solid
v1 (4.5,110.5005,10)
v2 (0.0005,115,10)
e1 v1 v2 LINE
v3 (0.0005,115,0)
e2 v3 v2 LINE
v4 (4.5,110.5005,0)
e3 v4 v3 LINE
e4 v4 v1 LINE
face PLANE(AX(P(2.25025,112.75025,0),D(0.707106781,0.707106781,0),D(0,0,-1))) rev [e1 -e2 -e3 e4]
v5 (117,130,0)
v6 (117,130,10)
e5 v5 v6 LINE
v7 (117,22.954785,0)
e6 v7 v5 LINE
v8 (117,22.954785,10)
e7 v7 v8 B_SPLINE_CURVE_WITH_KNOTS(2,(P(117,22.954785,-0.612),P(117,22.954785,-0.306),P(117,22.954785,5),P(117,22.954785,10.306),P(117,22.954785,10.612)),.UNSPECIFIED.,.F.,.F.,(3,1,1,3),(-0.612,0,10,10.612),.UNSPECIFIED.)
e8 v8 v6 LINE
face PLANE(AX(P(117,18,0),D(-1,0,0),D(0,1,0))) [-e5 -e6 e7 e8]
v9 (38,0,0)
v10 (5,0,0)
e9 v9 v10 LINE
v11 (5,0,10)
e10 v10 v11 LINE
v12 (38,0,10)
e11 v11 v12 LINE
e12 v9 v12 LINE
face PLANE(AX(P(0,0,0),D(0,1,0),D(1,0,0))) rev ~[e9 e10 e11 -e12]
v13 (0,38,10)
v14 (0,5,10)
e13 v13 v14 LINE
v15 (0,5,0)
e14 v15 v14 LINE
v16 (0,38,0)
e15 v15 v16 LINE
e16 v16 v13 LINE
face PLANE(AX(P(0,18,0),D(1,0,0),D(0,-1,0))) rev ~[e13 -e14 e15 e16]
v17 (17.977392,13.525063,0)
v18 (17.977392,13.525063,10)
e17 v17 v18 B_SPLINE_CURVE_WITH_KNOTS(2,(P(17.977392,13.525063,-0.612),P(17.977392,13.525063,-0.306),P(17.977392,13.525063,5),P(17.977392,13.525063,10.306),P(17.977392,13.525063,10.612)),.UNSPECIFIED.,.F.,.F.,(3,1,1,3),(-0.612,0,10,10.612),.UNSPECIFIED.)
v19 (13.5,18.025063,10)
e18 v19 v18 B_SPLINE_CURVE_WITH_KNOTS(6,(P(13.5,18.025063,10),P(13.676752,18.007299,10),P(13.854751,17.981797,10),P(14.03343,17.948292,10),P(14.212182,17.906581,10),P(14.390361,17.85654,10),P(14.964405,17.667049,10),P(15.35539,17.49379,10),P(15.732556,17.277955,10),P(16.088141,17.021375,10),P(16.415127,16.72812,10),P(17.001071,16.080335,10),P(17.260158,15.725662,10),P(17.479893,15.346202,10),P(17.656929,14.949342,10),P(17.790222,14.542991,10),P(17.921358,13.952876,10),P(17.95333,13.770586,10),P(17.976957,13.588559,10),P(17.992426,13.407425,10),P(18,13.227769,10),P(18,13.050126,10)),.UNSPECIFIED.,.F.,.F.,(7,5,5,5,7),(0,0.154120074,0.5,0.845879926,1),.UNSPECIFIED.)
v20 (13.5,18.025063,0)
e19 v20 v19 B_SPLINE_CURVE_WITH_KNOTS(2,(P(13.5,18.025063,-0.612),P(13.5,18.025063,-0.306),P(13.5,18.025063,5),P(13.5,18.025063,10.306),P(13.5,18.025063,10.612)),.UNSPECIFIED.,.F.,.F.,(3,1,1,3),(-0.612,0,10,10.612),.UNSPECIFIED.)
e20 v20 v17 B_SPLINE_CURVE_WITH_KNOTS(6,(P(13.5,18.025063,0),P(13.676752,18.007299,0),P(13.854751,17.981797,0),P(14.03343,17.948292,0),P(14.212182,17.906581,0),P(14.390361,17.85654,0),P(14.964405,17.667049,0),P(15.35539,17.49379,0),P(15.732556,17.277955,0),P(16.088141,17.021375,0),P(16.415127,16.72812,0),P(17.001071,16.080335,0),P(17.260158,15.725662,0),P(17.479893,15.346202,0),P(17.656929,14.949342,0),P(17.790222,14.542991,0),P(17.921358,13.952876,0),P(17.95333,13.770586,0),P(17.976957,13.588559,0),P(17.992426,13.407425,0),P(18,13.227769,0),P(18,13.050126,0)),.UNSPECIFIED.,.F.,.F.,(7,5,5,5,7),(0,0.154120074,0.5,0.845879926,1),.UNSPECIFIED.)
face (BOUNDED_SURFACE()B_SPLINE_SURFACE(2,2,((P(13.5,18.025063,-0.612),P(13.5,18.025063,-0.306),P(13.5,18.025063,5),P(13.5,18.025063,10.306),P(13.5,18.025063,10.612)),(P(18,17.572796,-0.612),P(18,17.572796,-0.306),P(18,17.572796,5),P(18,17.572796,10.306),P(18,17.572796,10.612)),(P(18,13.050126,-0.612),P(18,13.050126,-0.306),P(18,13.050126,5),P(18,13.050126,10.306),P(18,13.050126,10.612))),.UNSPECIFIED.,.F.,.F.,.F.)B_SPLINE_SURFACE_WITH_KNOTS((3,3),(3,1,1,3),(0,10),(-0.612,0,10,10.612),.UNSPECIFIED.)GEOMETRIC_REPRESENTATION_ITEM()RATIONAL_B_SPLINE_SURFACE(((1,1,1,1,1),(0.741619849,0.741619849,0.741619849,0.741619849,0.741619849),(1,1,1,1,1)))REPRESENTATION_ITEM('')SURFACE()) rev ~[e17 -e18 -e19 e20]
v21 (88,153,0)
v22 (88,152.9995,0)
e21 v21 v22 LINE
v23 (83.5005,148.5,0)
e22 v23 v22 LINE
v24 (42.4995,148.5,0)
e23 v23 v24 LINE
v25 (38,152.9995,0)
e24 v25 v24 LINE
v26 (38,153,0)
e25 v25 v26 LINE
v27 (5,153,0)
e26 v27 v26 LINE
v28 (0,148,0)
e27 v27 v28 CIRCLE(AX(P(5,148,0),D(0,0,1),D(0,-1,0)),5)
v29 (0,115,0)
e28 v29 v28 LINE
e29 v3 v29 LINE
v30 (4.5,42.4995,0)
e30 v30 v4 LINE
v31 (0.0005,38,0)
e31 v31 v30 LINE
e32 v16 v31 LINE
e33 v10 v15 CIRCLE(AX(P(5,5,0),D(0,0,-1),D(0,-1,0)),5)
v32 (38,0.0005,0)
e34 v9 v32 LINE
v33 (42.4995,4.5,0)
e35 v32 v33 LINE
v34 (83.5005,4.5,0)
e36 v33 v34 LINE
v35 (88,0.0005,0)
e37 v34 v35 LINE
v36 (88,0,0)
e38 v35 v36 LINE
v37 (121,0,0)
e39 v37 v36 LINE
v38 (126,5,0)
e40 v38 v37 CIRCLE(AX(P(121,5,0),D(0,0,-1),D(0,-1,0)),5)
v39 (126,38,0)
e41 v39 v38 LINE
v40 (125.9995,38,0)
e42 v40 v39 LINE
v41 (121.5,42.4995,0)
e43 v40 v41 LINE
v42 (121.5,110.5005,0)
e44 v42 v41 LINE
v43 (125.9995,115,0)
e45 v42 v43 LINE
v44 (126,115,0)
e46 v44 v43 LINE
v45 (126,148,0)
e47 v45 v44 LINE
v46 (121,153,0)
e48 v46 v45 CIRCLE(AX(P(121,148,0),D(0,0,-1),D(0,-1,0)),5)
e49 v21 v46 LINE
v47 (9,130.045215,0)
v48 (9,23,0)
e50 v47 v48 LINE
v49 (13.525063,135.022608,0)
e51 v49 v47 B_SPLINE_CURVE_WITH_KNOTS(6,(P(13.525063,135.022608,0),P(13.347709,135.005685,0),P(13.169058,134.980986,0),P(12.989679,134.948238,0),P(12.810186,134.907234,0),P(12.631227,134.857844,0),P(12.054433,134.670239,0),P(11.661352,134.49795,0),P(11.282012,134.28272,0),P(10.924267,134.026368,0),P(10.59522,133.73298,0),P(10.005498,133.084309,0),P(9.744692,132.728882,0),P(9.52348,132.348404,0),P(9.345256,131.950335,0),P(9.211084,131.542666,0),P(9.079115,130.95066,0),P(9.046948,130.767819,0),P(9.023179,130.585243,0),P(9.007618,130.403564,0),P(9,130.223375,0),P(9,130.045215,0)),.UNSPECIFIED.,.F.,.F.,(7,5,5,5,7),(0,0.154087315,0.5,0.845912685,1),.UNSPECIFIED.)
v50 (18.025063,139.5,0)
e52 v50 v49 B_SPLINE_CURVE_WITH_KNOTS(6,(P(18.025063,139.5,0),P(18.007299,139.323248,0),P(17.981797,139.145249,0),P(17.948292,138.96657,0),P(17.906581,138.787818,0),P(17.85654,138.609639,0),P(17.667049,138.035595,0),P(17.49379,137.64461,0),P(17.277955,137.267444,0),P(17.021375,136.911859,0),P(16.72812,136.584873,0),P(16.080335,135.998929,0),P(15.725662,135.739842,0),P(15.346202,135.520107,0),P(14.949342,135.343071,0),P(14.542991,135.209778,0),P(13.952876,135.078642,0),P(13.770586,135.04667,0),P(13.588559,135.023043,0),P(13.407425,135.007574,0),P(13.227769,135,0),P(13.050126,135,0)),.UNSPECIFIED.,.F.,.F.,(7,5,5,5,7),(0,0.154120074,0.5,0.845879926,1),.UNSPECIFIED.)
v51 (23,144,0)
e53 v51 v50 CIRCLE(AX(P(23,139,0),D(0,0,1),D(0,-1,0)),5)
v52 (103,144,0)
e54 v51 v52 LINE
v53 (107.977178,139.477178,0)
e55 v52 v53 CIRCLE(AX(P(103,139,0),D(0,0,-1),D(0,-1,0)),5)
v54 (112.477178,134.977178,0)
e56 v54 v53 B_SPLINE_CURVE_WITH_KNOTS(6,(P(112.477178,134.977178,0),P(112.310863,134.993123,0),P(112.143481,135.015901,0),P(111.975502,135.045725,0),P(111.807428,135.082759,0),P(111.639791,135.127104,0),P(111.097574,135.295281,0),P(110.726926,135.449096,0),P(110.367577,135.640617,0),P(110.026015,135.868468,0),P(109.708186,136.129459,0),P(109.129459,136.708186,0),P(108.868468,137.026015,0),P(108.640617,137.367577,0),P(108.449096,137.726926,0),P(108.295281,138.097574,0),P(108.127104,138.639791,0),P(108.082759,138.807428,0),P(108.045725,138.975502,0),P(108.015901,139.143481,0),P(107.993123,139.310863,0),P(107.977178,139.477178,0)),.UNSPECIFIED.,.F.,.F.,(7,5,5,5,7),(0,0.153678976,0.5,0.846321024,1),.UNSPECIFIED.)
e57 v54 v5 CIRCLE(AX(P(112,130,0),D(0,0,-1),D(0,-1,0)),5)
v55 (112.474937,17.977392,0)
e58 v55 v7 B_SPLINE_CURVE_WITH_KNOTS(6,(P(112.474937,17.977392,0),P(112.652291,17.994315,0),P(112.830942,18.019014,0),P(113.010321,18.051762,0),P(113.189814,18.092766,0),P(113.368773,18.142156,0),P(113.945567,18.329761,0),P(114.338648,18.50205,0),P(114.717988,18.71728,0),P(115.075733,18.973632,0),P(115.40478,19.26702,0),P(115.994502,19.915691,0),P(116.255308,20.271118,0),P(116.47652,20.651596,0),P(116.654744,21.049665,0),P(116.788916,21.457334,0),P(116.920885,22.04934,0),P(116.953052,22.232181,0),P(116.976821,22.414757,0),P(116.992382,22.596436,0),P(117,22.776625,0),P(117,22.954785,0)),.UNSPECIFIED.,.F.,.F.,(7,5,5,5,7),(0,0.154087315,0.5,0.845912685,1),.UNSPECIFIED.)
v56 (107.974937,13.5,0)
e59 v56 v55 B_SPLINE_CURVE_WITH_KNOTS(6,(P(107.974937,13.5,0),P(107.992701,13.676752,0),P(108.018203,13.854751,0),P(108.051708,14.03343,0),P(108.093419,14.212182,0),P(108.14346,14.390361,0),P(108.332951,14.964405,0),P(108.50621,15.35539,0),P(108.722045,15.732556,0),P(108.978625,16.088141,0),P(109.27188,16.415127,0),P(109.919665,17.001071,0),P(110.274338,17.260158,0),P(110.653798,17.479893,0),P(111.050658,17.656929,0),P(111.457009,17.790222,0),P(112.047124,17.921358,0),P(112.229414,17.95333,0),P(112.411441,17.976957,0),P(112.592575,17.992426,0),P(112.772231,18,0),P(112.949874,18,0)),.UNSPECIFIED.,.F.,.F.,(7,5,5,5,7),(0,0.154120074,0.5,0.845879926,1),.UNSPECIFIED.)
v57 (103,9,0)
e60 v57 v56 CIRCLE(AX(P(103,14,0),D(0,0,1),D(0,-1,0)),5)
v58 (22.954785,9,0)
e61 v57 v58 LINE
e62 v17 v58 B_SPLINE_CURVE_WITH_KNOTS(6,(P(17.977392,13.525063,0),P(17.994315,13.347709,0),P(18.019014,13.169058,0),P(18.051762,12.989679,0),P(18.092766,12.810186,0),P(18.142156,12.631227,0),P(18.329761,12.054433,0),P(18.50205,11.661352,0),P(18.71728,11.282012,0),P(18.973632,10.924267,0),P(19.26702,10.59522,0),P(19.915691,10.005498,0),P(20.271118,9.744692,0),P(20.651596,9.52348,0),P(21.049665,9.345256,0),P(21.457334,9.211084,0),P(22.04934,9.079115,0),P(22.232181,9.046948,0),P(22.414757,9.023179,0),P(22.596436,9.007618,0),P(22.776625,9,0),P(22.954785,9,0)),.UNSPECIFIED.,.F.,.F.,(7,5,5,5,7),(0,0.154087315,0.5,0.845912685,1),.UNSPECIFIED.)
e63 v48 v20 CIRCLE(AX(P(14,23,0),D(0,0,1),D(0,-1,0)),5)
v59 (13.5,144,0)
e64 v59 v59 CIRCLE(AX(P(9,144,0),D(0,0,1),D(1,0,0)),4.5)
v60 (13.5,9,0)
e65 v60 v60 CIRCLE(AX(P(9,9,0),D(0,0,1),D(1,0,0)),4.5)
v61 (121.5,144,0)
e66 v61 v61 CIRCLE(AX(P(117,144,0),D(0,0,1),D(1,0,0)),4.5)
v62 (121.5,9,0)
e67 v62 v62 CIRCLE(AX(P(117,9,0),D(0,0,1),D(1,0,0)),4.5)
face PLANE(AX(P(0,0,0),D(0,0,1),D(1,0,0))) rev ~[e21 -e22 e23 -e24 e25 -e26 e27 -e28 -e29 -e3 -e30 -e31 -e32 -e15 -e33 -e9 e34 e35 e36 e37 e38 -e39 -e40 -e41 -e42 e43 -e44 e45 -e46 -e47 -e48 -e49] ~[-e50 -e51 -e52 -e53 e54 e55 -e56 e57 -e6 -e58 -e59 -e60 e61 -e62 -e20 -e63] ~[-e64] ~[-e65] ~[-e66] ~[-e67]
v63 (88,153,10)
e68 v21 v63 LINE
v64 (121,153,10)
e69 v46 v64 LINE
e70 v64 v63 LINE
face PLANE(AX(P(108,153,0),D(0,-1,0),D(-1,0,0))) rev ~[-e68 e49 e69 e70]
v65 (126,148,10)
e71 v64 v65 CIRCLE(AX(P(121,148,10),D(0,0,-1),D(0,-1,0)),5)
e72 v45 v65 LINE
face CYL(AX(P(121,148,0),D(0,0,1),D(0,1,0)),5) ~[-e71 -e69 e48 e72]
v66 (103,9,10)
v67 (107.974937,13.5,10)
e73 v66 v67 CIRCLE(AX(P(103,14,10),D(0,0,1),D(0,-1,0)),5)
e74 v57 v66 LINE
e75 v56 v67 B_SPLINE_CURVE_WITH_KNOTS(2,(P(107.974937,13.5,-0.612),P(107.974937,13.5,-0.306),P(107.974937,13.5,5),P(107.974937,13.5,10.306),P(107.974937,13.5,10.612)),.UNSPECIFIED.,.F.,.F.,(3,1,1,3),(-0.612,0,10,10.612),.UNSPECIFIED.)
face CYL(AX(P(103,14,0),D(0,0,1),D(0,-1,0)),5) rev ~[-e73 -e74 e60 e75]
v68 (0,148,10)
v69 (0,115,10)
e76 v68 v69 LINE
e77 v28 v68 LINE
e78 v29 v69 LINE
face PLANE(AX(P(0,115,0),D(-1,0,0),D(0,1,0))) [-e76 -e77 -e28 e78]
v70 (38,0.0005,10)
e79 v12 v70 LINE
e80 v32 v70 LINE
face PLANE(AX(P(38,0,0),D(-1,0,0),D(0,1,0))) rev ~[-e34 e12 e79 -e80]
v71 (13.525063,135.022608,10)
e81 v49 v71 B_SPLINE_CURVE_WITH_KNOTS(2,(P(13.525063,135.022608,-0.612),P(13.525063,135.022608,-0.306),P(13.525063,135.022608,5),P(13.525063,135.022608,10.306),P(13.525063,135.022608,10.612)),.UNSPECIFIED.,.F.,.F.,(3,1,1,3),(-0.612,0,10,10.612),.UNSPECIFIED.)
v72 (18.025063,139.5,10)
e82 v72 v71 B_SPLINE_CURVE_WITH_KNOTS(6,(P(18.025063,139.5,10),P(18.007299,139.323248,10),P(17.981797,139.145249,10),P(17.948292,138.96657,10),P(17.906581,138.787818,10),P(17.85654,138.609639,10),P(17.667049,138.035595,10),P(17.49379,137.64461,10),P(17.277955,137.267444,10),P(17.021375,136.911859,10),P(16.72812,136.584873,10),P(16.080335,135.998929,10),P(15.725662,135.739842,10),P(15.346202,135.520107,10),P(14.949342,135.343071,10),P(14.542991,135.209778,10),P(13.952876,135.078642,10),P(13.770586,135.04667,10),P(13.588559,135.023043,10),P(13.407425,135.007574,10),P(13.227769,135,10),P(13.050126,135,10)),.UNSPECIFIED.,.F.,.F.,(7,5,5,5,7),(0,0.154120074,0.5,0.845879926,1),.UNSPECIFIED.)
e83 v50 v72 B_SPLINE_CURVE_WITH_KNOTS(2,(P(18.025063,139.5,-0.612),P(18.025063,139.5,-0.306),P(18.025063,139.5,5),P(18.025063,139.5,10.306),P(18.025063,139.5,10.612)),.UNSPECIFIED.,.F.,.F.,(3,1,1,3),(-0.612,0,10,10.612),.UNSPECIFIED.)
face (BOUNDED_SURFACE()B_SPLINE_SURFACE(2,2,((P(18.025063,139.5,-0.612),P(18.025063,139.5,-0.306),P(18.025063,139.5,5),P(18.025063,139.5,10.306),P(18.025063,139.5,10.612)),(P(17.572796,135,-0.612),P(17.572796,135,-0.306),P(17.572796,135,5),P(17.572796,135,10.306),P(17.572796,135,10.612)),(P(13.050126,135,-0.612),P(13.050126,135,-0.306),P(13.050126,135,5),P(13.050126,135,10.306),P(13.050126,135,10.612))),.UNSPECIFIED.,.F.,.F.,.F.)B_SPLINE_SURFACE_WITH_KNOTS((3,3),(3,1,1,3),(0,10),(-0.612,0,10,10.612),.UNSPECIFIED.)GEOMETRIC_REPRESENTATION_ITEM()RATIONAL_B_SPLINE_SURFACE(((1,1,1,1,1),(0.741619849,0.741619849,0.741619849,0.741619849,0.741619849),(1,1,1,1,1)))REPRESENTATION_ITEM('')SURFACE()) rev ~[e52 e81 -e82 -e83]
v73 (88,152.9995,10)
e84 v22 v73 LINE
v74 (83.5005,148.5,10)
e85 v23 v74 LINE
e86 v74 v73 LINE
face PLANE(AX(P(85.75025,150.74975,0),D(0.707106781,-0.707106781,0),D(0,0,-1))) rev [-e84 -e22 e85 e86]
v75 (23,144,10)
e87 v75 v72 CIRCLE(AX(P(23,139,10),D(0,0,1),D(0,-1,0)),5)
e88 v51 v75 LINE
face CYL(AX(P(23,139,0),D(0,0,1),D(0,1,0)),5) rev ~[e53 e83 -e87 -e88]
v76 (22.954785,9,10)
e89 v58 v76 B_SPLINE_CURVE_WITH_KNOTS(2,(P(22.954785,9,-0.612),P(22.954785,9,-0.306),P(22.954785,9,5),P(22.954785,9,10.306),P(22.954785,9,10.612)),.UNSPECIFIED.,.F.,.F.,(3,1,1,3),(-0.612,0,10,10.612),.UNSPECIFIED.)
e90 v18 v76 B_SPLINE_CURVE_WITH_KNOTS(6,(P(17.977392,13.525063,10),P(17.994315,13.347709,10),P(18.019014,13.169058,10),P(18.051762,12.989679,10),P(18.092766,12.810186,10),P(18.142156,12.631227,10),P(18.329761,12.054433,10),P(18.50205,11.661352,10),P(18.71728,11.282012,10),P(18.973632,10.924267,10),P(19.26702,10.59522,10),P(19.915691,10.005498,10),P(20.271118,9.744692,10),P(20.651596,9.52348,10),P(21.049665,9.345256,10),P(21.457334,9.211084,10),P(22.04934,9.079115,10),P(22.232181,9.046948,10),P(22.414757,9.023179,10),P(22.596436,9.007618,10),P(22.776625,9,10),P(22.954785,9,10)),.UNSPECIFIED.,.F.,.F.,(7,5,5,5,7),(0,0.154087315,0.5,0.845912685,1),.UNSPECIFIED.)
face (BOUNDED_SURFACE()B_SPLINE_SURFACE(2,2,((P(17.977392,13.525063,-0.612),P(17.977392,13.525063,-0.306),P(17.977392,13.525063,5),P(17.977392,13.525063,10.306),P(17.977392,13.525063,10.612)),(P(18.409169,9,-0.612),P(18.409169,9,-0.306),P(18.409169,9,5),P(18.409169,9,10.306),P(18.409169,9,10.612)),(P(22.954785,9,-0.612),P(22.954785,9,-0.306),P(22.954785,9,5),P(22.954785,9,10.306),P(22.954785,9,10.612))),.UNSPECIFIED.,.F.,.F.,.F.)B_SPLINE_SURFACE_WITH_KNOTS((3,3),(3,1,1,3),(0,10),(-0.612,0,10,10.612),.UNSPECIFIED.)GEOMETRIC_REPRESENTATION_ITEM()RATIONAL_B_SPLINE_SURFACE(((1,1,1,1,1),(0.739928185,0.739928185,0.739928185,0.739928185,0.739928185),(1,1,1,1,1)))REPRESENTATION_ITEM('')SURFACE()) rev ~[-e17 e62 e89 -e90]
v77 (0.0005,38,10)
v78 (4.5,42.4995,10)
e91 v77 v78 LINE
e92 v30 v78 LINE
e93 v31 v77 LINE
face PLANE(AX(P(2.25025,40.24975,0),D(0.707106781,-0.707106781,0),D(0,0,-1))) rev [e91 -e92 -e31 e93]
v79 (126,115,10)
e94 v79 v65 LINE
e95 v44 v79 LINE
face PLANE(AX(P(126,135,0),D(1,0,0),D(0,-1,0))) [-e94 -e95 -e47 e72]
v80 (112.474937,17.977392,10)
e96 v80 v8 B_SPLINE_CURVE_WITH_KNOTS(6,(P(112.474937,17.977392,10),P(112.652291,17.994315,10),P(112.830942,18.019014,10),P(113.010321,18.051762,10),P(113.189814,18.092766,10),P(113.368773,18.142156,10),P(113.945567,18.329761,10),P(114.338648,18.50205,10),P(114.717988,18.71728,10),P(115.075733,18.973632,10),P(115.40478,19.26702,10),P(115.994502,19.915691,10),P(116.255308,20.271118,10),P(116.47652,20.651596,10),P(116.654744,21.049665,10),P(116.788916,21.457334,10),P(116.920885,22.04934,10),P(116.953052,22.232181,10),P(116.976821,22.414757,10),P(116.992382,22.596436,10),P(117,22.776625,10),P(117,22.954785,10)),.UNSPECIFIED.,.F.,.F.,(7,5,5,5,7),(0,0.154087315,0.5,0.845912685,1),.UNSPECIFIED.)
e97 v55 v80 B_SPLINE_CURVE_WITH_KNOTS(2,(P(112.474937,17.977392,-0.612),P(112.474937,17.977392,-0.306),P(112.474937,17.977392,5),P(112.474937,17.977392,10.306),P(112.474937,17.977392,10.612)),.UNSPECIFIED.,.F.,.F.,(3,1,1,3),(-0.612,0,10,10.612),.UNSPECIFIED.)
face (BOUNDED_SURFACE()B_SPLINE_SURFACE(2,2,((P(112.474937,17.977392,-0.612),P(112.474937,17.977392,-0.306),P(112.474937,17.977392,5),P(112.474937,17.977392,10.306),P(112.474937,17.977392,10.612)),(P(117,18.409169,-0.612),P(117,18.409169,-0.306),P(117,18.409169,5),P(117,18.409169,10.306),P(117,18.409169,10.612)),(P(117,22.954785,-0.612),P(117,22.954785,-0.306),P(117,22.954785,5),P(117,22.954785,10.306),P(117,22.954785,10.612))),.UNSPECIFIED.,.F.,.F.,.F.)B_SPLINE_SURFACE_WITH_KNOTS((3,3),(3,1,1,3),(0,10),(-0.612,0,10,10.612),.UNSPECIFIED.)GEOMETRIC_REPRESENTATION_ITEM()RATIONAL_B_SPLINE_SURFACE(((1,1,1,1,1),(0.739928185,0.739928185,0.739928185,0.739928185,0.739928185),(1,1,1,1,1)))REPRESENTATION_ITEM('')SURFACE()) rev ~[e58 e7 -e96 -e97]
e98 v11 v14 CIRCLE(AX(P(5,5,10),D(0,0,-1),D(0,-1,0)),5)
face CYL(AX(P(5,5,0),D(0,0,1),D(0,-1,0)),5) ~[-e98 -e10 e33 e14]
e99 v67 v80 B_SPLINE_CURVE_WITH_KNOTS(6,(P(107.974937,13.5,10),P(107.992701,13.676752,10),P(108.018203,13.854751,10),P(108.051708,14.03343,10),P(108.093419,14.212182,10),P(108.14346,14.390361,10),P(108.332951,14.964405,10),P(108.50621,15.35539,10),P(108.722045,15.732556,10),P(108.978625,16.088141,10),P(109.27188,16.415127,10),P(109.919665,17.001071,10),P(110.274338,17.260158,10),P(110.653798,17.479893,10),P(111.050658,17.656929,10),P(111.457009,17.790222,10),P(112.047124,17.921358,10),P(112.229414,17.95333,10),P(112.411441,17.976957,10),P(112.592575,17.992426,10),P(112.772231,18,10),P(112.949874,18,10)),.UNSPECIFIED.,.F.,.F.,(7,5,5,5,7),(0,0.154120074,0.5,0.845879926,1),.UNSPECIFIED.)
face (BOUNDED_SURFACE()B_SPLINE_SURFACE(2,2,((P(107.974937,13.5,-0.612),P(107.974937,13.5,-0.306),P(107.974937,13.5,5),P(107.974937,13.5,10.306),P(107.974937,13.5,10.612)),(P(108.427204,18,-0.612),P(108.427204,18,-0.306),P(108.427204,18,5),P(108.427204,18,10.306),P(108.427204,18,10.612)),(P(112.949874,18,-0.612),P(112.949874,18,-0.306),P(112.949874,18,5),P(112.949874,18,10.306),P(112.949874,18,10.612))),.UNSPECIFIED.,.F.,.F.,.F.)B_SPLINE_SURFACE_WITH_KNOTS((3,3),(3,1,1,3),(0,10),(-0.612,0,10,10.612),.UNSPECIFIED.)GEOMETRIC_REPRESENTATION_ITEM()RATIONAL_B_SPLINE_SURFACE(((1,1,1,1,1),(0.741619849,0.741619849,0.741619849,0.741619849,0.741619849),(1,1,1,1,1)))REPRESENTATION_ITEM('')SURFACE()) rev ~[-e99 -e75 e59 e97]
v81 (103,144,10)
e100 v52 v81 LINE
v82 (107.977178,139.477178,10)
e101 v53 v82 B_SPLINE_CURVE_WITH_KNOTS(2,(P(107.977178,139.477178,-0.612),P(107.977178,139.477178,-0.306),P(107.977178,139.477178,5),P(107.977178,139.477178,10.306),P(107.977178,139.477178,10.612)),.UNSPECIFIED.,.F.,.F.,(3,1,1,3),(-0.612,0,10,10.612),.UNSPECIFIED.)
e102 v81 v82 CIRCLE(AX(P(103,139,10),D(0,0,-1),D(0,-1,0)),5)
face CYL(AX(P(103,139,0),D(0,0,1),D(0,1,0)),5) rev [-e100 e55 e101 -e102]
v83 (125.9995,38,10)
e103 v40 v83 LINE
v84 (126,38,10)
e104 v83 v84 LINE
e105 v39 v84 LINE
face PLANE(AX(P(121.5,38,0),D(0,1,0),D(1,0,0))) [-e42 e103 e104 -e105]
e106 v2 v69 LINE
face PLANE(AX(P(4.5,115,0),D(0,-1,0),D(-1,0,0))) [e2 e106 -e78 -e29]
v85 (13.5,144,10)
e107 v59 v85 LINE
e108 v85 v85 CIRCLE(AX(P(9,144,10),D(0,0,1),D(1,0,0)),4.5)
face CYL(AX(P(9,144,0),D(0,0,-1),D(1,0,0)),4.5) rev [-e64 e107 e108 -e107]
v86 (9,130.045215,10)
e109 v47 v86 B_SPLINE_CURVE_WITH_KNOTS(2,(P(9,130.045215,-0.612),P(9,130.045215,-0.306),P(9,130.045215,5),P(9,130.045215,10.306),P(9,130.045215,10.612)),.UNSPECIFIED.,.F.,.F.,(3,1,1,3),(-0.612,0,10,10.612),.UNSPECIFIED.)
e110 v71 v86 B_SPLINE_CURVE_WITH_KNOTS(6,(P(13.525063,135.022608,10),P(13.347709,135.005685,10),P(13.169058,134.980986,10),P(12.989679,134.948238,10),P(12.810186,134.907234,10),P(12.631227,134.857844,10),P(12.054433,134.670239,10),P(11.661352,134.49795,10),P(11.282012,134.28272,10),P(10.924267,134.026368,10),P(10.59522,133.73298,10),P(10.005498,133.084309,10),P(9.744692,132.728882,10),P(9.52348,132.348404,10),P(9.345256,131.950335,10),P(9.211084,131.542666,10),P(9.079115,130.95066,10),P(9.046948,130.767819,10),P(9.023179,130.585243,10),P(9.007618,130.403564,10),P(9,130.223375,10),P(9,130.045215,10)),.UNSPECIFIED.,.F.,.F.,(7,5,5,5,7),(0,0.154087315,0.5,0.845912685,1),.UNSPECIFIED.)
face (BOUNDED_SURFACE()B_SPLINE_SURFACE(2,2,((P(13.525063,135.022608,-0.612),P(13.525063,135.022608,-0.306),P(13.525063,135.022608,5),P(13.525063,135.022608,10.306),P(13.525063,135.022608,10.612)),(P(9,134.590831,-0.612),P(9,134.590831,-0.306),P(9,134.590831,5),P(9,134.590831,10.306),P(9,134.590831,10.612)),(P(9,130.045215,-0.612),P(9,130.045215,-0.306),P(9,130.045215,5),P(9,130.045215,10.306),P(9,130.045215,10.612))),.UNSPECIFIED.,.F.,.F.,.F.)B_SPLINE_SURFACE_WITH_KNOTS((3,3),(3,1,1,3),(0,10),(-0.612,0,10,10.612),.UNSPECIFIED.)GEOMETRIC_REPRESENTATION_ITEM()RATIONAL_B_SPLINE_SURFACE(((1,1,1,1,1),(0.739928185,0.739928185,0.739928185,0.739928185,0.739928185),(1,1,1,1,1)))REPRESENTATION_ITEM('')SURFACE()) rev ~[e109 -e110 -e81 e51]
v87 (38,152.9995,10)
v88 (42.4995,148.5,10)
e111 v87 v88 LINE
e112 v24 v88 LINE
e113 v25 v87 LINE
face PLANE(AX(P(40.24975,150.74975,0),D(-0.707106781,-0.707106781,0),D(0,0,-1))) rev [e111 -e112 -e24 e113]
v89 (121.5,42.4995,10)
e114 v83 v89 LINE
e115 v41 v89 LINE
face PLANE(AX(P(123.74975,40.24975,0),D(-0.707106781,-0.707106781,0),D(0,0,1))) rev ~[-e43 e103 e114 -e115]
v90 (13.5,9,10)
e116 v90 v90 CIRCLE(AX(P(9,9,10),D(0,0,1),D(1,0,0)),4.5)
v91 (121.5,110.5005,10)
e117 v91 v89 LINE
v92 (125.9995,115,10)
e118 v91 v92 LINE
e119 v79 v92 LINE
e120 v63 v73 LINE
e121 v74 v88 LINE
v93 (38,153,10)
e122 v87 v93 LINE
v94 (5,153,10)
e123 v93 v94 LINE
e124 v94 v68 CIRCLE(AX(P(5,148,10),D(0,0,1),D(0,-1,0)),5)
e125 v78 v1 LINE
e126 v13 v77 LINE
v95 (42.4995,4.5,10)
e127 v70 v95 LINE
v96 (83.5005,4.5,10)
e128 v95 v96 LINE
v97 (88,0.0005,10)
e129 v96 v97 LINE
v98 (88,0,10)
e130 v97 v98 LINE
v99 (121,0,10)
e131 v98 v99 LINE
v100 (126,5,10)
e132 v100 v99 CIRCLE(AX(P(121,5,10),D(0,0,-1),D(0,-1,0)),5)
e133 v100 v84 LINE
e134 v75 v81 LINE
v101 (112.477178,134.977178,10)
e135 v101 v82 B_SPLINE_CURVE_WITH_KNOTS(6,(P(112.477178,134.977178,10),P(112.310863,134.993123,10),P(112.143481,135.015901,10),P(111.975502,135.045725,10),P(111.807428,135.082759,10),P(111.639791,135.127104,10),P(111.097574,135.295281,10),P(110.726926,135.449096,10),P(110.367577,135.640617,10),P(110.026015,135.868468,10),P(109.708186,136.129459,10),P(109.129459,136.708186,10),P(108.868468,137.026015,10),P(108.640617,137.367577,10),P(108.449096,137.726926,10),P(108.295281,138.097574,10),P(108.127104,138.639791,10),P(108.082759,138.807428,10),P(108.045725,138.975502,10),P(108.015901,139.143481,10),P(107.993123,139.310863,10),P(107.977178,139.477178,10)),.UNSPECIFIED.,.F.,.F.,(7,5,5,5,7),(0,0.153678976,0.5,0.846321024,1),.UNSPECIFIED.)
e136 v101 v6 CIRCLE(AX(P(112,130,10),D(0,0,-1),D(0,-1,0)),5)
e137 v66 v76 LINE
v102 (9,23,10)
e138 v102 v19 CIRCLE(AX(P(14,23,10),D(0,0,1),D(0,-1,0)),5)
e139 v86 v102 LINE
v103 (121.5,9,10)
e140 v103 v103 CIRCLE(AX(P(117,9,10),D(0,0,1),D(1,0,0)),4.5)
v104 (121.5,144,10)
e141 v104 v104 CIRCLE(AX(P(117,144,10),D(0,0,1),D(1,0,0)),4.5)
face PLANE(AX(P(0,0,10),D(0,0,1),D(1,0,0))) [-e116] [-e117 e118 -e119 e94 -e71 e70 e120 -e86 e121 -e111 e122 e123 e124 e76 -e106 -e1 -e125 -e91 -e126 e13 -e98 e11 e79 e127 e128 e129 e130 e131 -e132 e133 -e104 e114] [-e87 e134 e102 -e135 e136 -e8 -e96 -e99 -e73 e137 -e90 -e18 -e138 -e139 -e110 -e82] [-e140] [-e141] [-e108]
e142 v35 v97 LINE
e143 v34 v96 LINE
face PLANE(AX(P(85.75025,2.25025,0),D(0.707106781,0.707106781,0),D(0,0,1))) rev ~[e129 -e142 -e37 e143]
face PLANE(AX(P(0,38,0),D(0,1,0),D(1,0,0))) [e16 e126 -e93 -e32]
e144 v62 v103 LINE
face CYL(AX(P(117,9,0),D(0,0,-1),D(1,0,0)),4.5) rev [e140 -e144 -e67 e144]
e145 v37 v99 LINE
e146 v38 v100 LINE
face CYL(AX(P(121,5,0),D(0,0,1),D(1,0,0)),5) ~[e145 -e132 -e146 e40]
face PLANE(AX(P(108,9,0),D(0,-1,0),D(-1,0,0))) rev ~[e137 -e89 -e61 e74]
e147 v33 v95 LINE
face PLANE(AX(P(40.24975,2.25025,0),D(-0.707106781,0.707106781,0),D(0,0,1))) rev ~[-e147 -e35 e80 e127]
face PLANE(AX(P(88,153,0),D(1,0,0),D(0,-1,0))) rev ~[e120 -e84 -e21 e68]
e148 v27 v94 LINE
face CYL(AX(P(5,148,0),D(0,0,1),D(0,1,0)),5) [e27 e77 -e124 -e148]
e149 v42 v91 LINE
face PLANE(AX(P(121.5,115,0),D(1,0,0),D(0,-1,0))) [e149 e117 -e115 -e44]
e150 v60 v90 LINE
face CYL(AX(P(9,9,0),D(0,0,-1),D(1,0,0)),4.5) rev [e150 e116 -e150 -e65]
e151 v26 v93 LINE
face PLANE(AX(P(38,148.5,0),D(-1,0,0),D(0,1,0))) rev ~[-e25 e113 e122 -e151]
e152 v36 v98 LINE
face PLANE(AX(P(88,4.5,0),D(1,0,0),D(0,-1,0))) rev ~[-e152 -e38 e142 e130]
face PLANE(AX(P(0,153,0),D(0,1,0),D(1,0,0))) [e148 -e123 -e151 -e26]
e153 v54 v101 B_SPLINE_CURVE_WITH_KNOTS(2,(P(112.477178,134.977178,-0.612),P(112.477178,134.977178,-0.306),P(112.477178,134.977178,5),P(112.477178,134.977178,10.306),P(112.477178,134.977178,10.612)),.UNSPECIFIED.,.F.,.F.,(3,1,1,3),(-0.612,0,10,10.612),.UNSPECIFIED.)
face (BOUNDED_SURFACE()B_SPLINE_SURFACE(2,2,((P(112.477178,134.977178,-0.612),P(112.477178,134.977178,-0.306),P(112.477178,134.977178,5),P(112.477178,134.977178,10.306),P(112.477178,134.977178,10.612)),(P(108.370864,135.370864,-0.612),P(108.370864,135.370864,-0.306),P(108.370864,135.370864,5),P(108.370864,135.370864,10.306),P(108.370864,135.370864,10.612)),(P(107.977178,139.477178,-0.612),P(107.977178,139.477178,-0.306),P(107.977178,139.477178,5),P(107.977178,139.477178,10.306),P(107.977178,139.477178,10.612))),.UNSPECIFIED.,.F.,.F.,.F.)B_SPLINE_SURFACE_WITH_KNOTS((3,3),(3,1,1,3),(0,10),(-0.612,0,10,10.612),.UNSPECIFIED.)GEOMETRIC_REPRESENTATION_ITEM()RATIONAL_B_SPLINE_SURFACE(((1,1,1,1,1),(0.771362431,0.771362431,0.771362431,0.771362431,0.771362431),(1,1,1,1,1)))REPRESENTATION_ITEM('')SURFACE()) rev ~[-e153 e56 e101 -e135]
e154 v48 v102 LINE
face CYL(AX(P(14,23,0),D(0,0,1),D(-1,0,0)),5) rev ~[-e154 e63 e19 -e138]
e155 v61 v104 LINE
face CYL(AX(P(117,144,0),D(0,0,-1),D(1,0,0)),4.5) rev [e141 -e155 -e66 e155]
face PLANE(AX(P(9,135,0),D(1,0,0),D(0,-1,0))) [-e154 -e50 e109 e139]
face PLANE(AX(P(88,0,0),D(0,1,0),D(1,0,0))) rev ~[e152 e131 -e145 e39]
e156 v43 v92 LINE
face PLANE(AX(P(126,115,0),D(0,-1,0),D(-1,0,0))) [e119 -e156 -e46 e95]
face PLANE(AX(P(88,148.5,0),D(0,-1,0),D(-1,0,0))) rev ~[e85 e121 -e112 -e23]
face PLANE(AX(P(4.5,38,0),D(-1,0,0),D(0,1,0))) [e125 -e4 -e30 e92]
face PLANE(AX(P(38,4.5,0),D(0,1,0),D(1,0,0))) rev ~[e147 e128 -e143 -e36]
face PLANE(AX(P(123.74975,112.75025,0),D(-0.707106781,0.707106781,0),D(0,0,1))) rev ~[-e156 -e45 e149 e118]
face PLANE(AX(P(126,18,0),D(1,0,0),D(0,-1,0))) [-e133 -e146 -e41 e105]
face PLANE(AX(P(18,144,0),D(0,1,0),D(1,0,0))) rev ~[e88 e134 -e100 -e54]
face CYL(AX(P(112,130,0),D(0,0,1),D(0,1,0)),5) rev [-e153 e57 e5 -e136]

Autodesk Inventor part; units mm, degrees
ref_plane "YZ Plane" through (0, 0, 0) normal (1, 0, 0) x (0, 1, 0)
ref_plane "XZ Plane" through (0, 0, 0) normal (0, 1, 0) x (-1, 0, 0)
ref_plane "XY Plane" through (0, 0, 0) normal (0, 0, 1) x (1, 0, 0)
sketch "Sketch1" plane through (0, 0, 0) normal (0, 0, 1) x (1, 0, 0)
  line L0 (0, 18) -> (0, 0) projected
  line L1 (0, 0) -> (18, 0) projected
  line L2 (18, 0) -> (18, 18) projected
  line L3 (18, 18) -> (0, 18) projected
  circle A0 centre (9, 9) radius 4.5 projected
  line L4 (0, 153) -> (18, 153) projected
  line L5 (0, 135) -> (0, 153) projected
  line L6 (18, 135) -> (0, 135) projected
  line L7 (18, 153) -> (18, 135) projected
  line L8 (0, 153) -> (18, 153) projected
  circle A1 centre (9, 144) radius 4.5 projected
  line L9 (126, 135) -> (126, 153) projected
  line L10 (126, 153) -> (108, 153) projected
  line L11 (108, 153) -> (108, 135) projected
  line L12 (108, 135) -> (126, 135) projected
  circle A2 centre (117, 144) radius 4.5 projected
  line L13 (126, 18) -> (126, 0) projected
  line L14 (108, 18) -> (126, 18) projected
  line L15 (108, 0) -> (108, 18) projected
  line L16 (126, 0) -> (108, 0) projected
  circle A3 centre (117, 9) radius 4.5 projected
  line L17 (18, 0) -> (108, 0)
  line L18 (108, 0) -> (108, 9)
  line L19 (108, 9) -> (18, 9)
  line L20 (18, 9) -> (18, 0)
  line L21 (126, 18) -> (117, 18)
  line L22 (117, 18) -> (117, 135)
  line L23 (117, 135) -> (126, 135)
  line L24 (126, 135) -> (126, 18)
  line L25 (108, 153) -> (18, 153)
  line L26 (18, 153) -> (18, 144)
  line L27 (18, 144) -> (108, 144)
  line L28 (108, 144) -> (108, 153)
  line L29 (0, 135) -> (9, 135)
  line L30 (9, 135) -> (9, 18)
  line L31 (9, 18) -> (0, 18)
  line L32 (0, 18) -> (0, 135)
  line L33 (126, 115) -> (121.5, 115)
  line L34 (121.5, 115) -> (121.5, 38)
  line L35 (121.5, 38) -> (126, 38)
  line L36 (126, 38) -> (126, 115)
  line L37 (88, 0) -> (38, 0)
  line L38 (38, 0) -> (38, 4.5)
  line L39 (38, 4.5) -> (88, 4.5)
  line L40 (88, 4.5) -> (88, 0)
  line L41 (0, 38) -> (4.5, 38)
  line L42 (4.5, 38) -> (4.5, 115)
  line L43 (4.5, 115) -> (0, 115)
  line L44 (0, 115) -> (0, 38)
  line L45 (38, 153) -> (88, 153)
  line L46 (88, 153) -> (88, 148.5)
  line L47 (88, 148.5) -> (38, 148.5)
  line L48 (38, 148.5) -> (38, 153)
  point P0 (18, 9)
  point P1 (38, 0)
  dimension "d0" = 9
  dimension "d1" = 9
  dimension "d2" = 9
  dimension "d3" = 9
  dimension "d4" = 4.5
  dimension "d5" = 4.5
  dimension "d6" = 4.5
  dimension "d7" = 4.5
  dimension "d8" = 20
  dimension "d9" = 20
  dimension "d10" = 20
  dimension "d11" = 20
  dimension "d12" = 20
  dimension "d13" = 20
  dimension "d14" = 20
  dimension "d15" = 20
extrude "Extrusion1" add sketch "Sketch1" along normal blind 10 contours L3 L2 L1 L0 | L32 L41 L42 L43 L6 L30 L3 | L2 L19 L15 L17 L40 L39 L38 | L6 L5 L4 L7 | L15 L14 L13 L16 | L7 L25 L48 L47 L46 L11 L27 | L11 L10 L9 L12 | L22 L12 L24 L33 L34 L35 L14
fillet "Fillet1" radius 5 16 edges at (108, 144, 5) (117, 135, 5) (108, 135, 5) (18, 144, 5) (18, 135, 5) (9, 135, 5) (9, 18, 5) (18, 18, 5) (18, 9, 5) (108, 9, 5) (108, 18, 5) (117, 18, 5) (0, 153, 5) (126, 153, 5) (126, 0, 5) (0, 0, 5)
chamfer "Chamfer1" distance 4.5 angle 45 8 edges at (38, 148.5, 5) (88, 148.5, 5) (121.5, 115, 5) (121.5, 38, 5) (38, 4.5, 5) (88, 4.5, 5) (4.5, 38, 5) (4.5, 115, 5)
equation "\"d1\" = d0"
equation "\"d2\" = d0"
equation "\"d3\" = d0"
equation "\"d4\" = 0.5 * d0"
equation "\"d5\" = 0.5 * d0"
equation "\"d6\" = 0.5 * d0"
equation "\"d7\" = 0.5 * d0"
equation "\"d9\" = d8"
equation "\"d10\" = d8"
equation "\"d11\" = d8"
equation "\"d12\" = d8"
equation "\"d13\" = d8"
equation "\"d14\" = d8"
equation "\"d15\" = d8"
properties part number "Servo-Gear-MountingPlate"
